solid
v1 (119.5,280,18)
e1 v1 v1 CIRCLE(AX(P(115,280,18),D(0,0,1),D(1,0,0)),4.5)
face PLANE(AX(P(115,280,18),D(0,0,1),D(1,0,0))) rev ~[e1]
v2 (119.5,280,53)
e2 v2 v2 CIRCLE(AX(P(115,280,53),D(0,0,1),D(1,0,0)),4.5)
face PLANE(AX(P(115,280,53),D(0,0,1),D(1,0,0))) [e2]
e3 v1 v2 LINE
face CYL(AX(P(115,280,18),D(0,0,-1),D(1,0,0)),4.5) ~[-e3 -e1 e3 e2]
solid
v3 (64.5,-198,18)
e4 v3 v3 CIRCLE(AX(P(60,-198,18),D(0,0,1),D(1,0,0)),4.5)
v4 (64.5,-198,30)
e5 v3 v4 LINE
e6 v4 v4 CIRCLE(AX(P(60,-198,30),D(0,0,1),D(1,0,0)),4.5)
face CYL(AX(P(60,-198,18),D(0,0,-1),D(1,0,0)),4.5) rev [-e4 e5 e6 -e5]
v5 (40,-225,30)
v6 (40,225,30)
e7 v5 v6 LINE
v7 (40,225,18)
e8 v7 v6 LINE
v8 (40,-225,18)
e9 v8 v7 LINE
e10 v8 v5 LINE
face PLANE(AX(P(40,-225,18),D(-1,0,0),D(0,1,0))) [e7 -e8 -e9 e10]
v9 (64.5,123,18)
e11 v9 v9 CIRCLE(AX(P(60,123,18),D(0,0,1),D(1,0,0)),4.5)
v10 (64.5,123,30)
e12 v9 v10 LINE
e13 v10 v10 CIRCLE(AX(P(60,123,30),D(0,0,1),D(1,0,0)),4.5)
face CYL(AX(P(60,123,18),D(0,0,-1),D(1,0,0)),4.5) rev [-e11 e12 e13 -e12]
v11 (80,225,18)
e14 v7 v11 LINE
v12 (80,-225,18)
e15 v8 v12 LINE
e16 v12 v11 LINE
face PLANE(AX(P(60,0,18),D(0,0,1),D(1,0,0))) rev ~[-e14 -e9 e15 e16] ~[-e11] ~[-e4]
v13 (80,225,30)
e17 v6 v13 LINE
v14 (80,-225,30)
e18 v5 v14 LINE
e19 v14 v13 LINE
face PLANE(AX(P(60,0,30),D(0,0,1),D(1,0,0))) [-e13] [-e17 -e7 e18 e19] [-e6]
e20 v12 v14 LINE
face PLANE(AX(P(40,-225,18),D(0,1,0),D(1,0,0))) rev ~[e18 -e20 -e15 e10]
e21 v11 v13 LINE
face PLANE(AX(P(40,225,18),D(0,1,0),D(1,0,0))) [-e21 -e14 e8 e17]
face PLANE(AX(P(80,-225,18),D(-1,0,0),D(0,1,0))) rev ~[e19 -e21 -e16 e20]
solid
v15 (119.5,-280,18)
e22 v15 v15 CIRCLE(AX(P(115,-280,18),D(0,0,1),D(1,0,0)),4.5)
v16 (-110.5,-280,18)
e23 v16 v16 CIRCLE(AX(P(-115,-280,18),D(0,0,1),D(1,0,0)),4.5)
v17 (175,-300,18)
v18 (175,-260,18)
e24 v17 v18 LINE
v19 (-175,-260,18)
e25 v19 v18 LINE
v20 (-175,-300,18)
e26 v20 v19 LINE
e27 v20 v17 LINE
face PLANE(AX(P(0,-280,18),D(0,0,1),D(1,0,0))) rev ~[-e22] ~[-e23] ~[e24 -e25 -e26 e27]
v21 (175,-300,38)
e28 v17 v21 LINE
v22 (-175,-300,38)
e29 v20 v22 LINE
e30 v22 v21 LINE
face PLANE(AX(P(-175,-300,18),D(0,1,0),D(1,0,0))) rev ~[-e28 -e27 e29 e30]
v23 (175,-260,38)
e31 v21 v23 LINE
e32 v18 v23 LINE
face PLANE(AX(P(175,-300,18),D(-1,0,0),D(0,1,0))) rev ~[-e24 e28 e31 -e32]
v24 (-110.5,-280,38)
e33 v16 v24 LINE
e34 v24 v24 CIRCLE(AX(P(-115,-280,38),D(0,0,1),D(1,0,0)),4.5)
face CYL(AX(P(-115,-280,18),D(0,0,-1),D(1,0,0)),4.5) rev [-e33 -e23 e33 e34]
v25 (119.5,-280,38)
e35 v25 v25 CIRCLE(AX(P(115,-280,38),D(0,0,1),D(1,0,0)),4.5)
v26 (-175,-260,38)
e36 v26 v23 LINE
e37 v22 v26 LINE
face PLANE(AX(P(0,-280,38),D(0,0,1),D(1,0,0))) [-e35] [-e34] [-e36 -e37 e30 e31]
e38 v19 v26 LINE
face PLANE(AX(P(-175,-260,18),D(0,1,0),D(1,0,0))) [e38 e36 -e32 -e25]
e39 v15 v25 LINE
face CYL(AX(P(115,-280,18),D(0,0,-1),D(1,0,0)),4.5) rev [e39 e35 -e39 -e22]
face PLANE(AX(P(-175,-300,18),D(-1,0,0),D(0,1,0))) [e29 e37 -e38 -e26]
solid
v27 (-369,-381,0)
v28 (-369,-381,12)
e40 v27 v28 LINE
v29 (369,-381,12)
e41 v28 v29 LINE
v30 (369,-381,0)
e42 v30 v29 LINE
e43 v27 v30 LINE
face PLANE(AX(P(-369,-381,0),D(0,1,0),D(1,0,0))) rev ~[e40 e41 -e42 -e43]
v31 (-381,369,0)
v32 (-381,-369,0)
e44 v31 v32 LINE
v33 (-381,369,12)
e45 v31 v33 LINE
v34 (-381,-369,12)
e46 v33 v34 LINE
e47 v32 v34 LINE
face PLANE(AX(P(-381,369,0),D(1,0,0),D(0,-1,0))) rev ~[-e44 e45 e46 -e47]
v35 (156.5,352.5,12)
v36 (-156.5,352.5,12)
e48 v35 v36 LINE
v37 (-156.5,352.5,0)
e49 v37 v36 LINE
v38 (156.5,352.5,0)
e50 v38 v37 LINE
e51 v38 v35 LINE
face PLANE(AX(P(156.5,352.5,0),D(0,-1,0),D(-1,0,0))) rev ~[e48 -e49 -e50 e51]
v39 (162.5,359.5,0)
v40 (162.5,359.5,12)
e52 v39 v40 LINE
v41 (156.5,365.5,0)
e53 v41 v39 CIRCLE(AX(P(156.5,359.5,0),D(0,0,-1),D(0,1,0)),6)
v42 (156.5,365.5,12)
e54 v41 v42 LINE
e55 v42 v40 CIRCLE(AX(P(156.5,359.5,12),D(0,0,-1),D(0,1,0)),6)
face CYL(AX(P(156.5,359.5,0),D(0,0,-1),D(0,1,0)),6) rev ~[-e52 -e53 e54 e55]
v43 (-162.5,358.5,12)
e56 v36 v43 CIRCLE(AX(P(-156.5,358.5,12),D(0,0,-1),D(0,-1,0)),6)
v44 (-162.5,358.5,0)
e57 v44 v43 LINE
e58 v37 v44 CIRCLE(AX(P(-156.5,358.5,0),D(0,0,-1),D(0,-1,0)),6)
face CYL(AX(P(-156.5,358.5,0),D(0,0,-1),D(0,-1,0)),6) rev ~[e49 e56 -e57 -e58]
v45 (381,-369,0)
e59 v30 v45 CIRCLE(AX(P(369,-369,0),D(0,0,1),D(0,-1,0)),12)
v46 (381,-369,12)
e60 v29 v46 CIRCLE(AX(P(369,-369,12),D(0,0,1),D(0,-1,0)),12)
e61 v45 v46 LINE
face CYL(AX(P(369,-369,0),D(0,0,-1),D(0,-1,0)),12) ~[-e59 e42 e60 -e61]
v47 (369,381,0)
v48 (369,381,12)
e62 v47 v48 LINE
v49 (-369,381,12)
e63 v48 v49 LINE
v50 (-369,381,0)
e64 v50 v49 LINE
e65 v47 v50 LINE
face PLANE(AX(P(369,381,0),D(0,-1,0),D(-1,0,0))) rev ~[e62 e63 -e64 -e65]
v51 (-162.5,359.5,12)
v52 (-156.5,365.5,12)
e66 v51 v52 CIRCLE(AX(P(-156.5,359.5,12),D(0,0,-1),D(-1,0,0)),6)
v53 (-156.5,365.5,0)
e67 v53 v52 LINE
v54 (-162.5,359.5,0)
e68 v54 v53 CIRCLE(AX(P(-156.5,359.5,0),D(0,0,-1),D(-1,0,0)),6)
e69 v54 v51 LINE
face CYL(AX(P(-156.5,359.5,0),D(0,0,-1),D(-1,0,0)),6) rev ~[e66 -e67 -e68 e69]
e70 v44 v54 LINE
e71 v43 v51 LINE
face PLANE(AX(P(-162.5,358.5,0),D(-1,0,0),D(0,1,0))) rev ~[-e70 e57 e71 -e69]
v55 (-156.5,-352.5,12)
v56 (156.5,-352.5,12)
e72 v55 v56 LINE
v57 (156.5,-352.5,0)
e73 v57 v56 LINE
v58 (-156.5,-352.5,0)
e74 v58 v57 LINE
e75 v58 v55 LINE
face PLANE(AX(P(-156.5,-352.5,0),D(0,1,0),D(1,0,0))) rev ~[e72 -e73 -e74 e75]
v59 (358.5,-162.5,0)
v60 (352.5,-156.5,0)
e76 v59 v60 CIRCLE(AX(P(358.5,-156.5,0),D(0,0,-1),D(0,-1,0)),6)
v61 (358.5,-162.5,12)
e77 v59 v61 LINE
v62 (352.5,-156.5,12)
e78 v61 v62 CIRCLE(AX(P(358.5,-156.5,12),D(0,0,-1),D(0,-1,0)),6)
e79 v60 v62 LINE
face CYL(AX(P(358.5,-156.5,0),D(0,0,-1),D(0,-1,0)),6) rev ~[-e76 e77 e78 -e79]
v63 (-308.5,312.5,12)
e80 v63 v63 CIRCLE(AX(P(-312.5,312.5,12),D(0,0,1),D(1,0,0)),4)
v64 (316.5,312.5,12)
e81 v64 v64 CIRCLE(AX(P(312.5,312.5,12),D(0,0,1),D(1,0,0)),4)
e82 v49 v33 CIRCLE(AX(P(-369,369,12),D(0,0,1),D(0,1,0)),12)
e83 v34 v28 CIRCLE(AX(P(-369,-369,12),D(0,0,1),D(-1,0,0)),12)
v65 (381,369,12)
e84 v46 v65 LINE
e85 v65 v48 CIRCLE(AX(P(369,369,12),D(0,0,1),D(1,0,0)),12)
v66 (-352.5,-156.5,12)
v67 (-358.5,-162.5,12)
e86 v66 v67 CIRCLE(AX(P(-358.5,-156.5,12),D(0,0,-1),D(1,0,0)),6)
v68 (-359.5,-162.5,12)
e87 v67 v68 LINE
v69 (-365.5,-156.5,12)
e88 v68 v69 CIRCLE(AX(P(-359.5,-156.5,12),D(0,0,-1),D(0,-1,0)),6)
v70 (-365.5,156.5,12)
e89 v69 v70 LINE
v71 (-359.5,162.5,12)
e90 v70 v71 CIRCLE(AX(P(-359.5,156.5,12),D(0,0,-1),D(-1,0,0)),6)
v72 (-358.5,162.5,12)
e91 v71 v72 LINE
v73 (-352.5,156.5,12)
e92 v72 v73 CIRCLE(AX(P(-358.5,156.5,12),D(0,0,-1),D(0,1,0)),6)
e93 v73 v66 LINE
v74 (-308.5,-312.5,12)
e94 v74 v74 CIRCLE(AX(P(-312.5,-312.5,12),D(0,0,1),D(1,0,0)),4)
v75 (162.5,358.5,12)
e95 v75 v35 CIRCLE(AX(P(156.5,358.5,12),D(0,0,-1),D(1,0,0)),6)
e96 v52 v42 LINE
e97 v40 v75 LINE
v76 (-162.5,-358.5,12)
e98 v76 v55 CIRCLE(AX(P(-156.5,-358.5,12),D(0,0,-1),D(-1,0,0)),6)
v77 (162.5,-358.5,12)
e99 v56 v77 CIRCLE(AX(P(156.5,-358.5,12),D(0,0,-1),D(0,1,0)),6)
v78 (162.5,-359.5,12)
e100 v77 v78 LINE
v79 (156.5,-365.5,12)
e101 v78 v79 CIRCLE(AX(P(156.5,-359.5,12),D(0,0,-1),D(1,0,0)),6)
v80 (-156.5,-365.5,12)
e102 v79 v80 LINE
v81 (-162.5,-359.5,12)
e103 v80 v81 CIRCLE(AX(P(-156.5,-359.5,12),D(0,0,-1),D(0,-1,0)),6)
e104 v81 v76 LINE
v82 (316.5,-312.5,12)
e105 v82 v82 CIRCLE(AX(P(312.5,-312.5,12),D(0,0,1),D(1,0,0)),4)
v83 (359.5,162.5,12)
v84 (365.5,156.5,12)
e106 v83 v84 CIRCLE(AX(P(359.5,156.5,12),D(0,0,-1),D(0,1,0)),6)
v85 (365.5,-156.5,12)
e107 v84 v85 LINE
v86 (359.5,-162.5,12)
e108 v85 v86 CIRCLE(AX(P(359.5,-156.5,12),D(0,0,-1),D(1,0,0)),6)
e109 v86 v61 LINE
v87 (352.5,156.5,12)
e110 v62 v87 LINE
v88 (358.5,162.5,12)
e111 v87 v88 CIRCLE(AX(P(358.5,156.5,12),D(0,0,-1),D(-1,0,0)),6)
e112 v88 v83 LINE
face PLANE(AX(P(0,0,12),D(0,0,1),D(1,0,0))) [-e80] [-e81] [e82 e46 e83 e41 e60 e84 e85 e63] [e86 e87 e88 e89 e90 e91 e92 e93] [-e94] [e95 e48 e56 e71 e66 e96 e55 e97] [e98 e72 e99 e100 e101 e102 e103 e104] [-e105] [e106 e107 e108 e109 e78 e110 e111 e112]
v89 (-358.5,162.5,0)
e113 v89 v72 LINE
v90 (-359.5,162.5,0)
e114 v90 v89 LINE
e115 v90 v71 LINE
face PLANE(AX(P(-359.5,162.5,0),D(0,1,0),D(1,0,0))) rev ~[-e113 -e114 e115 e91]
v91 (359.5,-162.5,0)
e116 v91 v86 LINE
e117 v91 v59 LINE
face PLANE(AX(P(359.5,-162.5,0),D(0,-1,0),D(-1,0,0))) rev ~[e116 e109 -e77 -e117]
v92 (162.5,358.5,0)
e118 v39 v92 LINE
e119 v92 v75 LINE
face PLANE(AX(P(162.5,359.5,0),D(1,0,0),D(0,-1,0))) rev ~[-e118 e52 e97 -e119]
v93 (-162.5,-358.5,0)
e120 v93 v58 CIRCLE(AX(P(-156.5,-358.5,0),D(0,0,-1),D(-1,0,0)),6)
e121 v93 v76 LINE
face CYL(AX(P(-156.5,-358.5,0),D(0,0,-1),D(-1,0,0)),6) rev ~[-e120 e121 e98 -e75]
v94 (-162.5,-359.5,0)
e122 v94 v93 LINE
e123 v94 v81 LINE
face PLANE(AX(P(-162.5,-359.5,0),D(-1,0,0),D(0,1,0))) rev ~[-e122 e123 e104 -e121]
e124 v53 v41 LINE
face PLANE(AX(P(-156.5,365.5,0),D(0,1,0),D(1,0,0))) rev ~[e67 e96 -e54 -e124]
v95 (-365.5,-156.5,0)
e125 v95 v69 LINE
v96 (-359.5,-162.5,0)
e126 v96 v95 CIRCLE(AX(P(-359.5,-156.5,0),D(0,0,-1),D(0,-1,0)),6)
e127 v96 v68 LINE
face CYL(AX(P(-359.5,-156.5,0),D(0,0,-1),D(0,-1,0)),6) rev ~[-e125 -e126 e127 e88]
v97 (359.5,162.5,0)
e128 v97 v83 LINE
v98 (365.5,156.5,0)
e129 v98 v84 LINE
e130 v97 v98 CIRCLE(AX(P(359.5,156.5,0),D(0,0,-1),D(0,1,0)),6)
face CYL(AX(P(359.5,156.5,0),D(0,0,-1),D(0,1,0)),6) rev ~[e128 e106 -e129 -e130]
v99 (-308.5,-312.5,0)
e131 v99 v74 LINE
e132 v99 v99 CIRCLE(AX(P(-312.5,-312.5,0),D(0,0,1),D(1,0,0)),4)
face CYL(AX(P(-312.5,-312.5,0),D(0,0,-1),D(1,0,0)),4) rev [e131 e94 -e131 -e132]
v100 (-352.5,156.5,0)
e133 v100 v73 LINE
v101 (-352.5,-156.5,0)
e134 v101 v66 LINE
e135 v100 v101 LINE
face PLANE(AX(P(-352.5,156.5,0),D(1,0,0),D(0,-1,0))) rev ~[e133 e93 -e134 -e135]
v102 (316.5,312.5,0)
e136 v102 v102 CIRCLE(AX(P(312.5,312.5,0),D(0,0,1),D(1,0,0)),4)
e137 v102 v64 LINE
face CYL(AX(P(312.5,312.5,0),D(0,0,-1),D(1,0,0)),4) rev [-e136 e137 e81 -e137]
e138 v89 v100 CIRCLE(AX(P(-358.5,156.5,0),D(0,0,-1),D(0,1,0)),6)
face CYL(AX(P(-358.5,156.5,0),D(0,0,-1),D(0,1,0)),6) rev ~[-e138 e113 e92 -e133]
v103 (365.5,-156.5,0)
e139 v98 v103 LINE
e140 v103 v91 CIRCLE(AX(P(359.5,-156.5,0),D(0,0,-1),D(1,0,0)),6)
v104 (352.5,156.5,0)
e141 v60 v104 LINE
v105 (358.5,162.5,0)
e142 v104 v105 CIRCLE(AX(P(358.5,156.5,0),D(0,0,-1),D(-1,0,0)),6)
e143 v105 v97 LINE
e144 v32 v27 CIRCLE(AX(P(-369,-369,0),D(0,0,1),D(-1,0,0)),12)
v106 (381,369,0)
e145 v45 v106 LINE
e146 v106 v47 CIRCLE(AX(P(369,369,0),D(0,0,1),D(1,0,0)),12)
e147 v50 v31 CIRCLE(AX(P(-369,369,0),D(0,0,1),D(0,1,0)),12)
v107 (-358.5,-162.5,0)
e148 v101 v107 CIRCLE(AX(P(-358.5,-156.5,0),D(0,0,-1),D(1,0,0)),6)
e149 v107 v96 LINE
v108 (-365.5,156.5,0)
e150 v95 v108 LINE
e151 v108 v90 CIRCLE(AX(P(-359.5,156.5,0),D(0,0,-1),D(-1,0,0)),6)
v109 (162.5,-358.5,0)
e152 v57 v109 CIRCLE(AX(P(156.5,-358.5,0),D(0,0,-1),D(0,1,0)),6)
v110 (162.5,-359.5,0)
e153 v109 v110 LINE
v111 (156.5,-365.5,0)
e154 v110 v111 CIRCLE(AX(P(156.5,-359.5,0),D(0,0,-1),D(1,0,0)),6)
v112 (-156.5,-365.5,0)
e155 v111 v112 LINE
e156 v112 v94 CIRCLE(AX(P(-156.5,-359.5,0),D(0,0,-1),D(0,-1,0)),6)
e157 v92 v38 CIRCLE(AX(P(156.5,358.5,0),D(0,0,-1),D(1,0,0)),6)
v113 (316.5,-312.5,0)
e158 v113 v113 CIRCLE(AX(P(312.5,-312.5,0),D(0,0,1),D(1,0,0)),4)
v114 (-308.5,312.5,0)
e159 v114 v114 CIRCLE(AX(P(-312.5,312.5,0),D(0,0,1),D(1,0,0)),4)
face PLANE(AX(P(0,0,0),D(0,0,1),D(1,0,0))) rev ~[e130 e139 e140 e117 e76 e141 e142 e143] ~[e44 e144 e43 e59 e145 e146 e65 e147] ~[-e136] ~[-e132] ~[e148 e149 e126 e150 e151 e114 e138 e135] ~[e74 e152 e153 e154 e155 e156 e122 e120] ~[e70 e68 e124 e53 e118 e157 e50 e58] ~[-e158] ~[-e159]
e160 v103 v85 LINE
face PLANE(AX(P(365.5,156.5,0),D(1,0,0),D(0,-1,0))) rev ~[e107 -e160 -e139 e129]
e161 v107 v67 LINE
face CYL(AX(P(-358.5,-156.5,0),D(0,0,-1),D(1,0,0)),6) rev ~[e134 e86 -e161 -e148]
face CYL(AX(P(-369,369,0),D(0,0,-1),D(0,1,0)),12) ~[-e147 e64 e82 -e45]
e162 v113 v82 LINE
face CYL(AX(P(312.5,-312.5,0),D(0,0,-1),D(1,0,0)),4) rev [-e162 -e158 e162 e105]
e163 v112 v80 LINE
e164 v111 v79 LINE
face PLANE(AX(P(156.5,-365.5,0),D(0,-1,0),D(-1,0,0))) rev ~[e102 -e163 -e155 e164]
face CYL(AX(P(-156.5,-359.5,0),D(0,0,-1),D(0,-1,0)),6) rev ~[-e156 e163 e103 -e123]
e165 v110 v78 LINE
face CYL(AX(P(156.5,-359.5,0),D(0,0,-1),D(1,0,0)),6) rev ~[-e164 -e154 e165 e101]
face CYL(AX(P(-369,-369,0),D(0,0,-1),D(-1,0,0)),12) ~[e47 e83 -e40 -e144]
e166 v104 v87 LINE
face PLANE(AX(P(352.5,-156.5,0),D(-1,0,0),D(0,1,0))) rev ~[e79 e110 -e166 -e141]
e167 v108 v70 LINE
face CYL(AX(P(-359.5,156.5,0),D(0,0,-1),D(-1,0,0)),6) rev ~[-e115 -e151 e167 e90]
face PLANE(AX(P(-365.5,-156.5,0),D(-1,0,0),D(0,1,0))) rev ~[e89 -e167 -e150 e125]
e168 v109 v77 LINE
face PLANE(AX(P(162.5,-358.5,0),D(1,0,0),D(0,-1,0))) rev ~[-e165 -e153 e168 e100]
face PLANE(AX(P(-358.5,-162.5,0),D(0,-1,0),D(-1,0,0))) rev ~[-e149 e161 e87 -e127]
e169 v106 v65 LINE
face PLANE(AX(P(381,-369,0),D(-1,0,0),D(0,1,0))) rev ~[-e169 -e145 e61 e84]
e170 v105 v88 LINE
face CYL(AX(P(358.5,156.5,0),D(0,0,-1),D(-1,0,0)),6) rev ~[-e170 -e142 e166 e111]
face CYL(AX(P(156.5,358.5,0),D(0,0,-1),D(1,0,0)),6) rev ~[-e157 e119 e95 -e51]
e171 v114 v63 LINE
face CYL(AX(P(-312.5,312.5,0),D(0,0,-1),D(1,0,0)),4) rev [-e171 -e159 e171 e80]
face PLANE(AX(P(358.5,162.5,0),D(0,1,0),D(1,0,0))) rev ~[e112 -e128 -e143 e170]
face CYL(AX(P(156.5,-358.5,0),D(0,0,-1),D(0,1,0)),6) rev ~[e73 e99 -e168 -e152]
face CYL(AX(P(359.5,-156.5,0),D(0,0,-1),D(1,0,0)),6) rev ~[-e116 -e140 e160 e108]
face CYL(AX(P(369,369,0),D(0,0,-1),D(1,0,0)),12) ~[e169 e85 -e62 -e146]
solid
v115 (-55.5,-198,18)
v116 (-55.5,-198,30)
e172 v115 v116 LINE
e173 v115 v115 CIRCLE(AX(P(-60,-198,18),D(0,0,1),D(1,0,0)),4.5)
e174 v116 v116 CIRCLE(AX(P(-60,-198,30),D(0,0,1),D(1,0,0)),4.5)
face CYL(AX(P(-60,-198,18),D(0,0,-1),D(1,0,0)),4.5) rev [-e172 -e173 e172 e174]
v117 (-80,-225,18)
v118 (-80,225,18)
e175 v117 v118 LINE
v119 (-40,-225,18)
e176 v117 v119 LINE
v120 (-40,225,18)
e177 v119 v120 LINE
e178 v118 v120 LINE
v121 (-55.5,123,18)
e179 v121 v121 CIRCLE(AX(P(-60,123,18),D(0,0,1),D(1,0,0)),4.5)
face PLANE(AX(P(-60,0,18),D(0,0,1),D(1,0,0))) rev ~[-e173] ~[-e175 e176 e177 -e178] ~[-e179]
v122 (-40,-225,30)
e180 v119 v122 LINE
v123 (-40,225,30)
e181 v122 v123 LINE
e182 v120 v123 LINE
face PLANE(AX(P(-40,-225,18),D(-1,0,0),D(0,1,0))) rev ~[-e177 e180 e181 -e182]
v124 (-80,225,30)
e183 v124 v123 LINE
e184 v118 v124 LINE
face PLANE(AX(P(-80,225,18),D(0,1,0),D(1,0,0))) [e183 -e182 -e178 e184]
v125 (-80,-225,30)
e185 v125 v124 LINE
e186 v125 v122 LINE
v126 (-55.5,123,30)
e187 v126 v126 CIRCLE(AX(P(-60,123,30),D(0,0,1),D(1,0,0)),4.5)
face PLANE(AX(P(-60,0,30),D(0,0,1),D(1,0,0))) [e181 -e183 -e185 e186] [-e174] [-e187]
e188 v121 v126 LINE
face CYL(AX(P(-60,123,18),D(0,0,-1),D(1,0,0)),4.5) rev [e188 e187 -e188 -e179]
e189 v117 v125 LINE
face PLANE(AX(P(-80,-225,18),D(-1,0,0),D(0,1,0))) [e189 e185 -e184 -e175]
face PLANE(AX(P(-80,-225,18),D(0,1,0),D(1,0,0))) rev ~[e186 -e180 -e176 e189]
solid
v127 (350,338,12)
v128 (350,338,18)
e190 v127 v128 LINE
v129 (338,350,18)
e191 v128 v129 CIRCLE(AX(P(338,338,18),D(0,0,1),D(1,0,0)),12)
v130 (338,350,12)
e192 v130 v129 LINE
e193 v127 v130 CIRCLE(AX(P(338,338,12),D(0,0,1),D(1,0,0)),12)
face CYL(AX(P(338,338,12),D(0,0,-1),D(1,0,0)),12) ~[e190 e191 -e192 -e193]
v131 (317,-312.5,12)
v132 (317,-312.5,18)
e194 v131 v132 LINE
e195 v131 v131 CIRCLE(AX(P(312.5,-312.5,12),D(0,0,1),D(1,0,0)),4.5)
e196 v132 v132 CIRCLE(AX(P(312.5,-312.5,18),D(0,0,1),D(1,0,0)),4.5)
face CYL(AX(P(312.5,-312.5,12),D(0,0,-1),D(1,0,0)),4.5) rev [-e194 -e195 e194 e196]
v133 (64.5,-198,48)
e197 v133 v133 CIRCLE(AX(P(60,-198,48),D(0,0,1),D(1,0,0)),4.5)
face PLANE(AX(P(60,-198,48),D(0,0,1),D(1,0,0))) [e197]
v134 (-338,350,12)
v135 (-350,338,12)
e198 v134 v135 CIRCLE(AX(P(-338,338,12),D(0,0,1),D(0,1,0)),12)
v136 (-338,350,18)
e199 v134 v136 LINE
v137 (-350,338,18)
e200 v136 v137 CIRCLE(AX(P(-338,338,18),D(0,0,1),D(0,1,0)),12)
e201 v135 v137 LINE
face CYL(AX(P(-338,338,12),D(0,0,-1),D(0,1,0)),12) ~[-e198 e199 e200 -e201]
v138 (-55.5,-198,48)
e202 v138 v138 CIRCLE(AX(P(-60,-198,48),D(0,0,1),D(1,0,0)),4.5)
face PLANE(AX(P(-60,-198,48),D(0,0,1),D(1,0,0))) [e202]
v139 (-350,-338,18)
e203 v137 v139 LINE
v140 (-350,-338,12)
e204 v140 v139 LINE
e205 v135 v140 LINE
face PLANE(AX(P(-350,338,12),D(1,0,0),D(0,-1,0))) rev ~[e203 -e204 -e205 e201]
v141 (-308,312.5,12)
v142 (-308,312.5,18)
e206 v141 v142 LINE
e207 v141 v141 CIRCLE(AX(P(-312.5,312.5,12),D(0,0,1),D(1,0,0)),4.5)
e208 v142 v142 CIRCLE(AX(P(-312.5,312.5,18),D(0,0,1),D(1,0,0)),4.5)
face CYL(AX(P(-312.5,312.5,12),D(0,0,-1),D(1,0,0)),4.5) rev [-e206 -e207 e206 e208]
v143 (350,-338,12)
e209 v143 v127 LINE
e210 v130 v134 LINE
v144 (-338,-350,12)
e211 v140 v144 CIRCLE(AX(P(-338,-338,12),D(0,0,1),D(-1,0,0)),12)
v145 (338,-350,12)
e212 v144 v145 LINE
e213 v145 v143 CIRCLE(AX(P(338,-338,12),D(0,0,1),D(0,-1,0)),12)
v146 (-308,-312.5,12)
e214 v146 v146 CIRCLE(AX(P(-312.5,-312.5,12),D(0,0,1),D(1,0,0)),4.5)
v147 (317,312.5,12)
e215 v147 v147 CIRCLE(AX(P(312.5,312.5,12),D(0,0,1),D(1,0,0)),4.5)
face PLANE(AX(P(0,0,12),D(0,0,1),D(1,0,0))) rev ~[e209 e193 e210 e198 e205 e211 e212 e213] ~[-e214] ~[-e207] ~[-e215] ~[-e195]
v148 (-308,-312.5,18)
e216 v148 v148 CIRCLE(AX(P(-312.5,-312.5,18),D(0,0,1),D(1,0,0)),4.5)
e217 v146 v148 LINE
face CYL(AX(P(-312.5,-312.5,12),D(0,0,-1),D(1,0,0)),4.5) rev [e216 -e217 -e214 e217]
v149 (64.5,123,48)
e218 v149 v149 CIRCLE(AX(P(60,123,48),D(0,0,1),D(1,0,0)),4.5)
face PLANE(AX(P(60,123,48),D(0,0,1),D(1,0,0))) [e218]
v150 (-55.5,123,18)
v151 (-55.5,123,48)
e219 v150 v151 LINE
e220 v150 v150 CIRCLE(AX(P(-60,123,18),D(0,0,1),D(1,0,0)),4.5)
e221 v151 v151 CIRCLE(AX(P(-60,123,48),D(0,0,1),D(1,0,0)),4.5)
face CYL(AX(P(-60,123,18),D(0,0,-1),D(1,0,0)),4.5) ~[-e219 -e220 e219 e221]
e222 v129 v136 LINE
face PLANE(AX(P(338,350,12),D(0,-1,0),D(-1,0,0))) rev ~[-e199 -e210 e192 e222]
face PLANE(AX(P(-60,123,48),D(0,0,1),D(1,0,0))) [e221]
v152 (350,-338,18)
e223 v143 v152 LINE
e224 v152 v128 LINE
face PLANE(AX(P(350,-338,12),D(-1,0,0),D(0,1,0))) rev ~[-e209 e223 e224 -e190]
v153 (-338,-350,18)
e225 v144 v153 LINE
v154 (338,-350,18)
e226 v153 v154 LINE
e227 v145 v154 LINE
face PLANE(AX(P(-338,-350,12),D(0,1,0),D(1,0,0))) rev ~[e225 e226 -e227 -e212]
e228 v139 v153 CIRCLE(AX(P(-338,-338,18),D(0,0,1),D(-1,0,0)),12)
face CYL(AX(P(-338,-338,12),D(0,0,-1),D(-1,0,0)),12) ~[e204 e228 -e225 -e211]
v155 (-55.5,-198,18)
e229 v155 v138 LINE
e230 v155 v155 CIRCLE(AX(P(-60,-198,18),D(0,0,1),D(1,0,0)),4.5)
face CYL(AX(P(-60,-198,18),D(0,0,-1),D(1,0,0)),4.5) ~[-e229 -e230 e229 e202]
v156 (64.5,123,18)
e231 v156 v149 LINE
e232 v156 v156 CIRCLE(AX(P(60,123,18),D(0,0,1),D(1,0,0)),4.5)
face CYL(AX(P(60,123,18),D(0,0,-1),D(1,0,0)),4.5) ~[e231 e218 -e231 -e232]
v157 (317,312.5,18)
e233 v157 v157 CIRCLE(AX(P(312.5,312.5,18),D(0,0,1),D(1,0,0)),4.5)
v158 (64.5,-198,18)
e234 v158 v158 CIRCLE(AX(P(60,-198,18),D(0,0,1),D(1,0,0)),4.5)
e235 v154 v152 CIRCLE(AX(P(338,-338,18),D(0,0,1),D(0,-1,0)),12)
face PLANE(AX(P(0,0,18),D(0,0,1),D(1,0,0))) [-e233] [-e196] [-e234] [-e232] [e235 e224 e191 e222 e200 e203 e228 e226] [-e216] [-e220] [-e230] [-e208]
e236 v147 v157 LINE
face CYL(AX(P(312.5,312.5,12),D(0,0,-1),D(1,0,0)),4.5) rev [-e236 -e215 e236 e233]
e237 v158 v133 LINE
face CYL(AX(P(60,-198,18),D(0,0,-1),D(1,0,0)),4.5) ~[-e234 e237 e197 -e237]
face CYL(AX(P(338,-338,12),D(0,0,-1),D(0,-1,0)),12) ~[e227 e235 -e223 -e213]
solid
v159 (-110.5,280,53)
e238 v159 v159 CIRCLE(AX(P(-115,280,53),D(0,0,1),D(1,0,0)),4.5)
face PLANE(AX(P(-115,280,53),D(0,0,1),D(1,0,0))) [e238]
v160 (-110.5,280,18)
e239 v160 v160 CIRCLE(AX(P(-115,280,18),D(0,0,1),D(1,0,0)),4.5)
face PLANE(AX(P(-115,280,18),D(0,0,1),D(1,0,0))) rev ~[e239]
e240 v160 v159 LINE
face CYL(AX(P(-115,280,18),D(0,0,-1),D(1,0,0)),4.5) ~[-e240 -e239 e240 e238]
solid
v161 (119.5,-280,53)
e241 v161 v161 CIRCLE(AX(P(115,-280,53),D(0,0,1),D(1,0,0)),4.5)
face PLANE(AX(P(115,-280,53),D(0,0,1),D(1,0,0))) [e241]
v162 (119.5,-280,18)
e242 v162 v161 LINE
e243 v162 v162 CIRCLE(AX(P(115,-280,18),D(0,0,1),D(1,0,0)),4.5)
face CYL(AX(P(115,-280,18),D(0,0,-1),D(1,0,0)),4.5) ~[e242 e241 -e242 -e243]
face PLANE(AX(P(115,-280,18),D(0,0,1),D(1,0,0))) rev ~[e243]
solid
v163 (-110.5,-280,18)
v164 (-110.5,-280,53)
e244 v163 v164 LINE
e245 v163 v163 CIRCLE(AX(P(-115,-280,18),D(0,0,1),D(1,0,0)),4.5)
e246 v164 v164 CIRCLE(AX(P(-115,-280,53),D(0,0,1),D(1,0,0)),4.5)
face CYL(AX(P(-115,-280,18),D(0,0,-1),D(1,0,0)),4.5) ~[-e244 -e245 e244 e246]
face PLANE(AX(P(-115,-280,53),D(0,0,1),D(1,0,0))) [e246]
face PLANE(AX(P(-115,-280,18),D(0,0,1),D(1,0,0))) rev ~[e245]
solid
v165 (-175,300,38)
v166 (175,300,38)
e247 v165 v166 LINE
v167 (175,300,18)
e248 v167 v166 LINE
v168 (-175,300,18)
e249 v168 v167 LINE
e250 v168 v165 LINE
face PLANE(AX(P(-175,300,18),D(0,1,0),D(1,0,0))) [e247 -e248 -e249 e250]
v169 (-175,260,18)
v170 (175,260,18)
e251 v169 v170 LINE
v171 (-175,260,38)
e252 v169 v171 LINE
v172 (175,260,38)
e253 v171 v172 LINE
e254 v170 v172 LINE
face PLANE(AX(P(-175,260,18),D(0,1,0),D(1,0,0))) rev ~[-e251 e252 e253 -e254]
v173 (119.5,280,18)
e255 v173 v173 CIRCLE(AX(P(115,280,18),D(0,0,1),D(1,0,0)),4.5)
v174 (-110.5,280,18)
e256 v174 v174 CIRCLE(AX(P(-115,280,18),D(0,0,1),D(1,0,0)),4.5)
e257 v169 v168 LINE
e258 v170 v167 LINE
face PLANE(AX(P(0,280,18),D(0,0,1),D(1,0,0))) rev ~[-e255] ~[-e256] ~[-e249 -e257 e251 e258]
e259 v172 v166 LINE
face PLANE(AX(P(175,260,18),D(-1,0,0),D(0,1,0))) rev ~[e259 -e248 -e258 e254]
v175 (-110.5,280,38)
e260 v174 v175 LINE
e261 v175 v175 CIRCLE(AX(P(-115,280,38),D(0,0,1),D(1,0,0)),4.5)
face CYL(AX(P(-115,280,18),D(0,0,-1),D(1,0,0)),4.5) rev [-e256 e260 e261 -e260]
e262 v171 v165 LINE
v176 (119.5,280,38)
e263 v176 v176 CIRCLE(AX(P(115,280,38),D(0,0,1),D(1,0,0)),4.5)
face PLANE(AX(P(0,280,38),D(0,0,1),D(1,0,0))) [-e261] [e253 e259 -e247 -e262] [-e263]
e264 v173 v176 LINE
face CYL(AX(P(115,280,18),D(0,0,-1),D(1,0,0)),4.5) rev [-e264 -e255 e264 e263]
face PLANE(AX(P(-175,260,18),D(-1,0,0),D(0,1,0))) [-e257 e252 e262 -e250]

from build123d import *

# Parameters (mm, degrees)
F0_R     = 4
F1_DEPTH = 12
F2_R     = 4.5
F3_DEPTH = 6
F4_W     = 350
F4_H     = 40
F4_R     = 4.5
F5_DEPTH = 20
F4_W_2   = 40
F4_H_2   = 450
F6_DEPTH = 12
F7_DEPTH = 35
F8_DEPTH = 30


with BuildPart() as f1:
    # F0 (on Top) → F1 (new body)
    with BuildSketch(Plane.XY):
        with BuildLine():
            Line((369, 381), (-369, 381))
            ThreePointArc((-369, 381), (-377.4852813742, 377.4852813742), (-381, 369))
            Line((-381, 369), (-381, -369))
            ThreePointArc((-381, -369), (-377.4852813742, -377.4852813742), (-369, -381))
            Line((-369, -381), (369, -381))
            ThreePointArc((369, -381), (377.4852813742, -377.4852813742), (381, -369))
            Line((381, -369), (381, 369))
            ThreePointArc((381, 369), (377.4852813742, 377.4852813742), (369, 381))
        make_face()
        with Locations((-312.5, -312.5)):
            Circle(F0_R, mode=Mode.SUBTRACT)
        with BuildLine():
            ThreePointArc((-156.5, -365.5), (-160.7426406871, -363.7426406871), (-162.5, -359.5))
            Line((-162.5, -359.5), (-162.5, -358.5))
            ThreePointArc((-162.5, -358.5), (-160.7426406871, -354.2573593129), (-156.5, -352.5))
            Line((-156.5, -352.5), (156.5, -352.5))
            ThreePointArc((156.5, -352.5), (160.7426406871, -354.2573593129), (162.5, -358.5))
            Line((162.5, -358.5), (162.5, -359.5))
            ThreePointArc((162.5, -359.5), (160.7426406871, -363.7426406871), (156.5, -365.5))
            Line((156.5, -365.5), (-156.5, -365.5))
        make_face(mode=Mode.SUBTRACT)
        with Locations((312.5, -312.5)):
            Circle(F0_R, mode=Mode.SUBTRACT)
        with BuildLine():
            ThreePointArc((-365.5, 156.5), (-363.7426406871, 160.7426406871), (-359.5, 162.5))
            Line((-359.5, 162.5), (-358.5, 162.5))
            ThreePointArc((-358.5, 162.5), (-354.2573593129, 160.7426406871), (-352.5, 156.5))
            Line((-352.5, 156.5), (-352.5, -156.5))
            ThreePointArc((-352.5, -156.5), (-354.2573593129, -160.7426406871), (-358.5, -162.5))
            Line((-358.5, -162.5), (-359.5, -162.5))
            ThreePointArc((-359.5, -162.5), (-363.7426406871, -160.7426406871), (-365.5, -156.5))
            Line((-365.5, -156.5), (-365.5, 156.5))
        make_face(mode=Mode.SUBTRACT)
        with Locations((-312.5, 312.5)):
            Circle(F0_R, mode=Mode.SUBTRACT)
        with BuildLine():
            Line((358.5, 162.5), (359.5, 162.5))
            ThreePointArc((359.5, 162.5), (363.7426406871, 160.7426406871), (365.5, 156.5))
            Line((365.5, 156.5), (365.5, -156.5))
            ThreePointArc((365.5, -156.5), (363.7426406871, -160.7426406871), (359.5, -162.5))
            Line((359.5, -162.5), (358.5, -162.5))
            ThreePointArc((358.5, -162.5), (354.2573593129, -160.7426406871), (352.5, -156.5))
            Line((352.5, -156.5), (352.5, 156.5))
            ThreePointArc((352.5, 156.5), (354.2573593129, 160.7426406871), (358.5, 162.5))
        make_face(mode=Mode.SUBTRACT)
        with BuildLine():
            ThreePointArc((-162.5, 359.5), (-160.7426406871, 363.7426406871), (-156.5, 365.5))
            Line((-156.5, 365.5), (156.5, 365.5))
            ThreePointArc((156.5, 365.5), (160.7426406871, 363.7426406871), (162.5, 359.5))
            Line((162.5, 359.5), (162.5, 358.5))
            ThreePointArc((162.5, 358.5), (160.7426406871, 354.2573593129), (156.5, 352.5))
            Line((156.5, 352.5), (-156.5, 352.5))
            ThreePointArc((-156.5, 352.5), (-160.7426406871, 354.2573593129), (-162.5, 358.5))
            Line((-162.5, 358.5), (-162.5, 359.5))
        make_face(mode=Mode.SUBTRACT)
        with Locations((312.5, 312.5)):
            Circle(F0_R, mode=Mode.SUBTRACT)
    extrude(amount=F1_DEPTH)


with BuildPart() as f3:
    # F2 (on face) → F3 (new body)
    with BuildSketch(Plane.XY.offset(12)):
        with BuildLine():
            Line((338, 350), (-338, 350))
            ThreePointArc((-338, 350), (-346.4852813742, 346.4852813742), (-350, 338))
            Line((-350, 338), (-350, -338))
            ThreePointArc((-350, -338), (-346.4852813742, -346.4852813742), (-338, -350))
            Line((-338, -350), (338, -350))
            ThreePointArc((338, -350), (346.4852813742, -346.4852813742), (350, -338))
            Line((350, -338), (350, 338))
            ThreePointArc((350, 338), (346.4852813742, 346.4852813742), (338, 350))
        make_face()
        with Locations((-312.5, -312.5)):
            Circle(F2_R, mode=Mode.SUBTRACT)
        with Locations((312.5, -312.5)):
            Circle(F2_R, mode=Mode.SUBTRACT)
        with Locations((-312.5, 312.5)):
            Circle(F2_R, mode=Mode.SUBTRACT)
        with Locations((312.5, 312.5)):
            Circle(F2_R, mode=Mode.SUBTRACT)
    extrude(amount=F3_DEPTH)

    # F4 (on face) → F8 (join)
    with BuildSketch(Plane.XY.offset(18)):
        with Locations((-60, 123)):
            Circle(F4_R)
        with Locations((60, 123)):
            Circle(F4_R)
        with Locations((-60, -198)):
            Circle(F4_R)
        with Locations((60, -198)):
            Circle(F4_R)
    extrude(amount=F8_DEPTH)


with BuildPart() as f5:
    # F4 (on face) → F5 (new body)
    with BuildSketch(Plane.XY.offset(18)):
        with Locations((0, 280)):
            Rectangle(F4_W, F4_H)
        with Locations((-115, 280)):
            Circle(F4_R, mode=Mode.SUBTRACT)
        with Locations((115, 280)):
            Circle(F4_R, mode=Mode.SUBTRACT)
    extrude(amount=F5_DEPTH)


with BuildPart() as f5b:
    # F4 (on face) → F5, piece 2 (new body)
    with BuildSketch(Plane.XY.offset(18)):
        with Locations((0, -280)):
            Rectangle(F4_W, F4_H)
        with Locations((-115, -280)):
            Circle(F4_R, mode=Mode.SUBTRACT)
        with Locations((115, -280)):
            Circle(F4_R, mode=Mode.SUBTRACT)
    extrude(amount=F5_DEPTH)


with BuildPart() as f6:
    # F4 (on face) → F6 (new body)
    with BuildSketch(Plane.XY.offset(18)):
        with Locations((-60, 0)):
            Rectangle(F4_W_2, F4_H_2)
        with Locations((-60, -198)):
            Circle(F4_R, mode=Mode.SUBTRACT)
        with Locations((-60, 123)):
            Circle(F4_R, mode=Mode.SUBTRACT)
    extrude(amount=F6_DEPTH)


with BuildPart() as f6b:
    # F4 (on face) → F6, piece 2 (new body)
    with BuildSketch(Plane.XY.offset(18)):
        with Locations((60, 0)):
            Rectangle(F4_W_2, F4_H_2)
        with Locations((60, -198)):
            Circle(F4_R, mode=Mode.SUBTRACT)
        with Locations((60, 123)):
            Circle(F4_R, mode=Mode.SUBTRACT)
    extrude(amount=F6_DEPTH)


with BuildPart() as f7:
    # F4 (on face) → F7 (new body)
    with BuildSketch(Plane.XY.offset(18)):
        with Locations((-115, 280)):
            Circle(F4_R)
    extrude(amount=F7_DEPTH)


with BuildPart() as f7b:
    # F4 (on face) → F7, piece 2 (new body)
    with BuildSketch(Plane.XY.offset(18)):
        with Locations((115, 280)):
            Circle(F4_R)
    extrude(amount=F7_DEPTH)


with BuildPart() as f7c:
    # F4 (on face) → F7, piece 3 (new body)
    with BuildSketch(Plane.XY.offset(18)):
        with Locations((-115, -280)):
            Circle(F4_R)
    extrude(amount=F7_DEPTH)


with BuildPart() as f7d:
    # F4 (on face) → F7, piece 4 (new body)
    with BuildSketch(Plane.XY.offset(18)):
        with Locations((115, -280)):
            Circle(F4_R)
    extrude(amount=F7_DEPTH)


solid = Compound([f1.part, f3.part, f5.part, f5b.part, f6.part, f6b.part, f7.part, f7b.part, f7c.part, f7d.part])
